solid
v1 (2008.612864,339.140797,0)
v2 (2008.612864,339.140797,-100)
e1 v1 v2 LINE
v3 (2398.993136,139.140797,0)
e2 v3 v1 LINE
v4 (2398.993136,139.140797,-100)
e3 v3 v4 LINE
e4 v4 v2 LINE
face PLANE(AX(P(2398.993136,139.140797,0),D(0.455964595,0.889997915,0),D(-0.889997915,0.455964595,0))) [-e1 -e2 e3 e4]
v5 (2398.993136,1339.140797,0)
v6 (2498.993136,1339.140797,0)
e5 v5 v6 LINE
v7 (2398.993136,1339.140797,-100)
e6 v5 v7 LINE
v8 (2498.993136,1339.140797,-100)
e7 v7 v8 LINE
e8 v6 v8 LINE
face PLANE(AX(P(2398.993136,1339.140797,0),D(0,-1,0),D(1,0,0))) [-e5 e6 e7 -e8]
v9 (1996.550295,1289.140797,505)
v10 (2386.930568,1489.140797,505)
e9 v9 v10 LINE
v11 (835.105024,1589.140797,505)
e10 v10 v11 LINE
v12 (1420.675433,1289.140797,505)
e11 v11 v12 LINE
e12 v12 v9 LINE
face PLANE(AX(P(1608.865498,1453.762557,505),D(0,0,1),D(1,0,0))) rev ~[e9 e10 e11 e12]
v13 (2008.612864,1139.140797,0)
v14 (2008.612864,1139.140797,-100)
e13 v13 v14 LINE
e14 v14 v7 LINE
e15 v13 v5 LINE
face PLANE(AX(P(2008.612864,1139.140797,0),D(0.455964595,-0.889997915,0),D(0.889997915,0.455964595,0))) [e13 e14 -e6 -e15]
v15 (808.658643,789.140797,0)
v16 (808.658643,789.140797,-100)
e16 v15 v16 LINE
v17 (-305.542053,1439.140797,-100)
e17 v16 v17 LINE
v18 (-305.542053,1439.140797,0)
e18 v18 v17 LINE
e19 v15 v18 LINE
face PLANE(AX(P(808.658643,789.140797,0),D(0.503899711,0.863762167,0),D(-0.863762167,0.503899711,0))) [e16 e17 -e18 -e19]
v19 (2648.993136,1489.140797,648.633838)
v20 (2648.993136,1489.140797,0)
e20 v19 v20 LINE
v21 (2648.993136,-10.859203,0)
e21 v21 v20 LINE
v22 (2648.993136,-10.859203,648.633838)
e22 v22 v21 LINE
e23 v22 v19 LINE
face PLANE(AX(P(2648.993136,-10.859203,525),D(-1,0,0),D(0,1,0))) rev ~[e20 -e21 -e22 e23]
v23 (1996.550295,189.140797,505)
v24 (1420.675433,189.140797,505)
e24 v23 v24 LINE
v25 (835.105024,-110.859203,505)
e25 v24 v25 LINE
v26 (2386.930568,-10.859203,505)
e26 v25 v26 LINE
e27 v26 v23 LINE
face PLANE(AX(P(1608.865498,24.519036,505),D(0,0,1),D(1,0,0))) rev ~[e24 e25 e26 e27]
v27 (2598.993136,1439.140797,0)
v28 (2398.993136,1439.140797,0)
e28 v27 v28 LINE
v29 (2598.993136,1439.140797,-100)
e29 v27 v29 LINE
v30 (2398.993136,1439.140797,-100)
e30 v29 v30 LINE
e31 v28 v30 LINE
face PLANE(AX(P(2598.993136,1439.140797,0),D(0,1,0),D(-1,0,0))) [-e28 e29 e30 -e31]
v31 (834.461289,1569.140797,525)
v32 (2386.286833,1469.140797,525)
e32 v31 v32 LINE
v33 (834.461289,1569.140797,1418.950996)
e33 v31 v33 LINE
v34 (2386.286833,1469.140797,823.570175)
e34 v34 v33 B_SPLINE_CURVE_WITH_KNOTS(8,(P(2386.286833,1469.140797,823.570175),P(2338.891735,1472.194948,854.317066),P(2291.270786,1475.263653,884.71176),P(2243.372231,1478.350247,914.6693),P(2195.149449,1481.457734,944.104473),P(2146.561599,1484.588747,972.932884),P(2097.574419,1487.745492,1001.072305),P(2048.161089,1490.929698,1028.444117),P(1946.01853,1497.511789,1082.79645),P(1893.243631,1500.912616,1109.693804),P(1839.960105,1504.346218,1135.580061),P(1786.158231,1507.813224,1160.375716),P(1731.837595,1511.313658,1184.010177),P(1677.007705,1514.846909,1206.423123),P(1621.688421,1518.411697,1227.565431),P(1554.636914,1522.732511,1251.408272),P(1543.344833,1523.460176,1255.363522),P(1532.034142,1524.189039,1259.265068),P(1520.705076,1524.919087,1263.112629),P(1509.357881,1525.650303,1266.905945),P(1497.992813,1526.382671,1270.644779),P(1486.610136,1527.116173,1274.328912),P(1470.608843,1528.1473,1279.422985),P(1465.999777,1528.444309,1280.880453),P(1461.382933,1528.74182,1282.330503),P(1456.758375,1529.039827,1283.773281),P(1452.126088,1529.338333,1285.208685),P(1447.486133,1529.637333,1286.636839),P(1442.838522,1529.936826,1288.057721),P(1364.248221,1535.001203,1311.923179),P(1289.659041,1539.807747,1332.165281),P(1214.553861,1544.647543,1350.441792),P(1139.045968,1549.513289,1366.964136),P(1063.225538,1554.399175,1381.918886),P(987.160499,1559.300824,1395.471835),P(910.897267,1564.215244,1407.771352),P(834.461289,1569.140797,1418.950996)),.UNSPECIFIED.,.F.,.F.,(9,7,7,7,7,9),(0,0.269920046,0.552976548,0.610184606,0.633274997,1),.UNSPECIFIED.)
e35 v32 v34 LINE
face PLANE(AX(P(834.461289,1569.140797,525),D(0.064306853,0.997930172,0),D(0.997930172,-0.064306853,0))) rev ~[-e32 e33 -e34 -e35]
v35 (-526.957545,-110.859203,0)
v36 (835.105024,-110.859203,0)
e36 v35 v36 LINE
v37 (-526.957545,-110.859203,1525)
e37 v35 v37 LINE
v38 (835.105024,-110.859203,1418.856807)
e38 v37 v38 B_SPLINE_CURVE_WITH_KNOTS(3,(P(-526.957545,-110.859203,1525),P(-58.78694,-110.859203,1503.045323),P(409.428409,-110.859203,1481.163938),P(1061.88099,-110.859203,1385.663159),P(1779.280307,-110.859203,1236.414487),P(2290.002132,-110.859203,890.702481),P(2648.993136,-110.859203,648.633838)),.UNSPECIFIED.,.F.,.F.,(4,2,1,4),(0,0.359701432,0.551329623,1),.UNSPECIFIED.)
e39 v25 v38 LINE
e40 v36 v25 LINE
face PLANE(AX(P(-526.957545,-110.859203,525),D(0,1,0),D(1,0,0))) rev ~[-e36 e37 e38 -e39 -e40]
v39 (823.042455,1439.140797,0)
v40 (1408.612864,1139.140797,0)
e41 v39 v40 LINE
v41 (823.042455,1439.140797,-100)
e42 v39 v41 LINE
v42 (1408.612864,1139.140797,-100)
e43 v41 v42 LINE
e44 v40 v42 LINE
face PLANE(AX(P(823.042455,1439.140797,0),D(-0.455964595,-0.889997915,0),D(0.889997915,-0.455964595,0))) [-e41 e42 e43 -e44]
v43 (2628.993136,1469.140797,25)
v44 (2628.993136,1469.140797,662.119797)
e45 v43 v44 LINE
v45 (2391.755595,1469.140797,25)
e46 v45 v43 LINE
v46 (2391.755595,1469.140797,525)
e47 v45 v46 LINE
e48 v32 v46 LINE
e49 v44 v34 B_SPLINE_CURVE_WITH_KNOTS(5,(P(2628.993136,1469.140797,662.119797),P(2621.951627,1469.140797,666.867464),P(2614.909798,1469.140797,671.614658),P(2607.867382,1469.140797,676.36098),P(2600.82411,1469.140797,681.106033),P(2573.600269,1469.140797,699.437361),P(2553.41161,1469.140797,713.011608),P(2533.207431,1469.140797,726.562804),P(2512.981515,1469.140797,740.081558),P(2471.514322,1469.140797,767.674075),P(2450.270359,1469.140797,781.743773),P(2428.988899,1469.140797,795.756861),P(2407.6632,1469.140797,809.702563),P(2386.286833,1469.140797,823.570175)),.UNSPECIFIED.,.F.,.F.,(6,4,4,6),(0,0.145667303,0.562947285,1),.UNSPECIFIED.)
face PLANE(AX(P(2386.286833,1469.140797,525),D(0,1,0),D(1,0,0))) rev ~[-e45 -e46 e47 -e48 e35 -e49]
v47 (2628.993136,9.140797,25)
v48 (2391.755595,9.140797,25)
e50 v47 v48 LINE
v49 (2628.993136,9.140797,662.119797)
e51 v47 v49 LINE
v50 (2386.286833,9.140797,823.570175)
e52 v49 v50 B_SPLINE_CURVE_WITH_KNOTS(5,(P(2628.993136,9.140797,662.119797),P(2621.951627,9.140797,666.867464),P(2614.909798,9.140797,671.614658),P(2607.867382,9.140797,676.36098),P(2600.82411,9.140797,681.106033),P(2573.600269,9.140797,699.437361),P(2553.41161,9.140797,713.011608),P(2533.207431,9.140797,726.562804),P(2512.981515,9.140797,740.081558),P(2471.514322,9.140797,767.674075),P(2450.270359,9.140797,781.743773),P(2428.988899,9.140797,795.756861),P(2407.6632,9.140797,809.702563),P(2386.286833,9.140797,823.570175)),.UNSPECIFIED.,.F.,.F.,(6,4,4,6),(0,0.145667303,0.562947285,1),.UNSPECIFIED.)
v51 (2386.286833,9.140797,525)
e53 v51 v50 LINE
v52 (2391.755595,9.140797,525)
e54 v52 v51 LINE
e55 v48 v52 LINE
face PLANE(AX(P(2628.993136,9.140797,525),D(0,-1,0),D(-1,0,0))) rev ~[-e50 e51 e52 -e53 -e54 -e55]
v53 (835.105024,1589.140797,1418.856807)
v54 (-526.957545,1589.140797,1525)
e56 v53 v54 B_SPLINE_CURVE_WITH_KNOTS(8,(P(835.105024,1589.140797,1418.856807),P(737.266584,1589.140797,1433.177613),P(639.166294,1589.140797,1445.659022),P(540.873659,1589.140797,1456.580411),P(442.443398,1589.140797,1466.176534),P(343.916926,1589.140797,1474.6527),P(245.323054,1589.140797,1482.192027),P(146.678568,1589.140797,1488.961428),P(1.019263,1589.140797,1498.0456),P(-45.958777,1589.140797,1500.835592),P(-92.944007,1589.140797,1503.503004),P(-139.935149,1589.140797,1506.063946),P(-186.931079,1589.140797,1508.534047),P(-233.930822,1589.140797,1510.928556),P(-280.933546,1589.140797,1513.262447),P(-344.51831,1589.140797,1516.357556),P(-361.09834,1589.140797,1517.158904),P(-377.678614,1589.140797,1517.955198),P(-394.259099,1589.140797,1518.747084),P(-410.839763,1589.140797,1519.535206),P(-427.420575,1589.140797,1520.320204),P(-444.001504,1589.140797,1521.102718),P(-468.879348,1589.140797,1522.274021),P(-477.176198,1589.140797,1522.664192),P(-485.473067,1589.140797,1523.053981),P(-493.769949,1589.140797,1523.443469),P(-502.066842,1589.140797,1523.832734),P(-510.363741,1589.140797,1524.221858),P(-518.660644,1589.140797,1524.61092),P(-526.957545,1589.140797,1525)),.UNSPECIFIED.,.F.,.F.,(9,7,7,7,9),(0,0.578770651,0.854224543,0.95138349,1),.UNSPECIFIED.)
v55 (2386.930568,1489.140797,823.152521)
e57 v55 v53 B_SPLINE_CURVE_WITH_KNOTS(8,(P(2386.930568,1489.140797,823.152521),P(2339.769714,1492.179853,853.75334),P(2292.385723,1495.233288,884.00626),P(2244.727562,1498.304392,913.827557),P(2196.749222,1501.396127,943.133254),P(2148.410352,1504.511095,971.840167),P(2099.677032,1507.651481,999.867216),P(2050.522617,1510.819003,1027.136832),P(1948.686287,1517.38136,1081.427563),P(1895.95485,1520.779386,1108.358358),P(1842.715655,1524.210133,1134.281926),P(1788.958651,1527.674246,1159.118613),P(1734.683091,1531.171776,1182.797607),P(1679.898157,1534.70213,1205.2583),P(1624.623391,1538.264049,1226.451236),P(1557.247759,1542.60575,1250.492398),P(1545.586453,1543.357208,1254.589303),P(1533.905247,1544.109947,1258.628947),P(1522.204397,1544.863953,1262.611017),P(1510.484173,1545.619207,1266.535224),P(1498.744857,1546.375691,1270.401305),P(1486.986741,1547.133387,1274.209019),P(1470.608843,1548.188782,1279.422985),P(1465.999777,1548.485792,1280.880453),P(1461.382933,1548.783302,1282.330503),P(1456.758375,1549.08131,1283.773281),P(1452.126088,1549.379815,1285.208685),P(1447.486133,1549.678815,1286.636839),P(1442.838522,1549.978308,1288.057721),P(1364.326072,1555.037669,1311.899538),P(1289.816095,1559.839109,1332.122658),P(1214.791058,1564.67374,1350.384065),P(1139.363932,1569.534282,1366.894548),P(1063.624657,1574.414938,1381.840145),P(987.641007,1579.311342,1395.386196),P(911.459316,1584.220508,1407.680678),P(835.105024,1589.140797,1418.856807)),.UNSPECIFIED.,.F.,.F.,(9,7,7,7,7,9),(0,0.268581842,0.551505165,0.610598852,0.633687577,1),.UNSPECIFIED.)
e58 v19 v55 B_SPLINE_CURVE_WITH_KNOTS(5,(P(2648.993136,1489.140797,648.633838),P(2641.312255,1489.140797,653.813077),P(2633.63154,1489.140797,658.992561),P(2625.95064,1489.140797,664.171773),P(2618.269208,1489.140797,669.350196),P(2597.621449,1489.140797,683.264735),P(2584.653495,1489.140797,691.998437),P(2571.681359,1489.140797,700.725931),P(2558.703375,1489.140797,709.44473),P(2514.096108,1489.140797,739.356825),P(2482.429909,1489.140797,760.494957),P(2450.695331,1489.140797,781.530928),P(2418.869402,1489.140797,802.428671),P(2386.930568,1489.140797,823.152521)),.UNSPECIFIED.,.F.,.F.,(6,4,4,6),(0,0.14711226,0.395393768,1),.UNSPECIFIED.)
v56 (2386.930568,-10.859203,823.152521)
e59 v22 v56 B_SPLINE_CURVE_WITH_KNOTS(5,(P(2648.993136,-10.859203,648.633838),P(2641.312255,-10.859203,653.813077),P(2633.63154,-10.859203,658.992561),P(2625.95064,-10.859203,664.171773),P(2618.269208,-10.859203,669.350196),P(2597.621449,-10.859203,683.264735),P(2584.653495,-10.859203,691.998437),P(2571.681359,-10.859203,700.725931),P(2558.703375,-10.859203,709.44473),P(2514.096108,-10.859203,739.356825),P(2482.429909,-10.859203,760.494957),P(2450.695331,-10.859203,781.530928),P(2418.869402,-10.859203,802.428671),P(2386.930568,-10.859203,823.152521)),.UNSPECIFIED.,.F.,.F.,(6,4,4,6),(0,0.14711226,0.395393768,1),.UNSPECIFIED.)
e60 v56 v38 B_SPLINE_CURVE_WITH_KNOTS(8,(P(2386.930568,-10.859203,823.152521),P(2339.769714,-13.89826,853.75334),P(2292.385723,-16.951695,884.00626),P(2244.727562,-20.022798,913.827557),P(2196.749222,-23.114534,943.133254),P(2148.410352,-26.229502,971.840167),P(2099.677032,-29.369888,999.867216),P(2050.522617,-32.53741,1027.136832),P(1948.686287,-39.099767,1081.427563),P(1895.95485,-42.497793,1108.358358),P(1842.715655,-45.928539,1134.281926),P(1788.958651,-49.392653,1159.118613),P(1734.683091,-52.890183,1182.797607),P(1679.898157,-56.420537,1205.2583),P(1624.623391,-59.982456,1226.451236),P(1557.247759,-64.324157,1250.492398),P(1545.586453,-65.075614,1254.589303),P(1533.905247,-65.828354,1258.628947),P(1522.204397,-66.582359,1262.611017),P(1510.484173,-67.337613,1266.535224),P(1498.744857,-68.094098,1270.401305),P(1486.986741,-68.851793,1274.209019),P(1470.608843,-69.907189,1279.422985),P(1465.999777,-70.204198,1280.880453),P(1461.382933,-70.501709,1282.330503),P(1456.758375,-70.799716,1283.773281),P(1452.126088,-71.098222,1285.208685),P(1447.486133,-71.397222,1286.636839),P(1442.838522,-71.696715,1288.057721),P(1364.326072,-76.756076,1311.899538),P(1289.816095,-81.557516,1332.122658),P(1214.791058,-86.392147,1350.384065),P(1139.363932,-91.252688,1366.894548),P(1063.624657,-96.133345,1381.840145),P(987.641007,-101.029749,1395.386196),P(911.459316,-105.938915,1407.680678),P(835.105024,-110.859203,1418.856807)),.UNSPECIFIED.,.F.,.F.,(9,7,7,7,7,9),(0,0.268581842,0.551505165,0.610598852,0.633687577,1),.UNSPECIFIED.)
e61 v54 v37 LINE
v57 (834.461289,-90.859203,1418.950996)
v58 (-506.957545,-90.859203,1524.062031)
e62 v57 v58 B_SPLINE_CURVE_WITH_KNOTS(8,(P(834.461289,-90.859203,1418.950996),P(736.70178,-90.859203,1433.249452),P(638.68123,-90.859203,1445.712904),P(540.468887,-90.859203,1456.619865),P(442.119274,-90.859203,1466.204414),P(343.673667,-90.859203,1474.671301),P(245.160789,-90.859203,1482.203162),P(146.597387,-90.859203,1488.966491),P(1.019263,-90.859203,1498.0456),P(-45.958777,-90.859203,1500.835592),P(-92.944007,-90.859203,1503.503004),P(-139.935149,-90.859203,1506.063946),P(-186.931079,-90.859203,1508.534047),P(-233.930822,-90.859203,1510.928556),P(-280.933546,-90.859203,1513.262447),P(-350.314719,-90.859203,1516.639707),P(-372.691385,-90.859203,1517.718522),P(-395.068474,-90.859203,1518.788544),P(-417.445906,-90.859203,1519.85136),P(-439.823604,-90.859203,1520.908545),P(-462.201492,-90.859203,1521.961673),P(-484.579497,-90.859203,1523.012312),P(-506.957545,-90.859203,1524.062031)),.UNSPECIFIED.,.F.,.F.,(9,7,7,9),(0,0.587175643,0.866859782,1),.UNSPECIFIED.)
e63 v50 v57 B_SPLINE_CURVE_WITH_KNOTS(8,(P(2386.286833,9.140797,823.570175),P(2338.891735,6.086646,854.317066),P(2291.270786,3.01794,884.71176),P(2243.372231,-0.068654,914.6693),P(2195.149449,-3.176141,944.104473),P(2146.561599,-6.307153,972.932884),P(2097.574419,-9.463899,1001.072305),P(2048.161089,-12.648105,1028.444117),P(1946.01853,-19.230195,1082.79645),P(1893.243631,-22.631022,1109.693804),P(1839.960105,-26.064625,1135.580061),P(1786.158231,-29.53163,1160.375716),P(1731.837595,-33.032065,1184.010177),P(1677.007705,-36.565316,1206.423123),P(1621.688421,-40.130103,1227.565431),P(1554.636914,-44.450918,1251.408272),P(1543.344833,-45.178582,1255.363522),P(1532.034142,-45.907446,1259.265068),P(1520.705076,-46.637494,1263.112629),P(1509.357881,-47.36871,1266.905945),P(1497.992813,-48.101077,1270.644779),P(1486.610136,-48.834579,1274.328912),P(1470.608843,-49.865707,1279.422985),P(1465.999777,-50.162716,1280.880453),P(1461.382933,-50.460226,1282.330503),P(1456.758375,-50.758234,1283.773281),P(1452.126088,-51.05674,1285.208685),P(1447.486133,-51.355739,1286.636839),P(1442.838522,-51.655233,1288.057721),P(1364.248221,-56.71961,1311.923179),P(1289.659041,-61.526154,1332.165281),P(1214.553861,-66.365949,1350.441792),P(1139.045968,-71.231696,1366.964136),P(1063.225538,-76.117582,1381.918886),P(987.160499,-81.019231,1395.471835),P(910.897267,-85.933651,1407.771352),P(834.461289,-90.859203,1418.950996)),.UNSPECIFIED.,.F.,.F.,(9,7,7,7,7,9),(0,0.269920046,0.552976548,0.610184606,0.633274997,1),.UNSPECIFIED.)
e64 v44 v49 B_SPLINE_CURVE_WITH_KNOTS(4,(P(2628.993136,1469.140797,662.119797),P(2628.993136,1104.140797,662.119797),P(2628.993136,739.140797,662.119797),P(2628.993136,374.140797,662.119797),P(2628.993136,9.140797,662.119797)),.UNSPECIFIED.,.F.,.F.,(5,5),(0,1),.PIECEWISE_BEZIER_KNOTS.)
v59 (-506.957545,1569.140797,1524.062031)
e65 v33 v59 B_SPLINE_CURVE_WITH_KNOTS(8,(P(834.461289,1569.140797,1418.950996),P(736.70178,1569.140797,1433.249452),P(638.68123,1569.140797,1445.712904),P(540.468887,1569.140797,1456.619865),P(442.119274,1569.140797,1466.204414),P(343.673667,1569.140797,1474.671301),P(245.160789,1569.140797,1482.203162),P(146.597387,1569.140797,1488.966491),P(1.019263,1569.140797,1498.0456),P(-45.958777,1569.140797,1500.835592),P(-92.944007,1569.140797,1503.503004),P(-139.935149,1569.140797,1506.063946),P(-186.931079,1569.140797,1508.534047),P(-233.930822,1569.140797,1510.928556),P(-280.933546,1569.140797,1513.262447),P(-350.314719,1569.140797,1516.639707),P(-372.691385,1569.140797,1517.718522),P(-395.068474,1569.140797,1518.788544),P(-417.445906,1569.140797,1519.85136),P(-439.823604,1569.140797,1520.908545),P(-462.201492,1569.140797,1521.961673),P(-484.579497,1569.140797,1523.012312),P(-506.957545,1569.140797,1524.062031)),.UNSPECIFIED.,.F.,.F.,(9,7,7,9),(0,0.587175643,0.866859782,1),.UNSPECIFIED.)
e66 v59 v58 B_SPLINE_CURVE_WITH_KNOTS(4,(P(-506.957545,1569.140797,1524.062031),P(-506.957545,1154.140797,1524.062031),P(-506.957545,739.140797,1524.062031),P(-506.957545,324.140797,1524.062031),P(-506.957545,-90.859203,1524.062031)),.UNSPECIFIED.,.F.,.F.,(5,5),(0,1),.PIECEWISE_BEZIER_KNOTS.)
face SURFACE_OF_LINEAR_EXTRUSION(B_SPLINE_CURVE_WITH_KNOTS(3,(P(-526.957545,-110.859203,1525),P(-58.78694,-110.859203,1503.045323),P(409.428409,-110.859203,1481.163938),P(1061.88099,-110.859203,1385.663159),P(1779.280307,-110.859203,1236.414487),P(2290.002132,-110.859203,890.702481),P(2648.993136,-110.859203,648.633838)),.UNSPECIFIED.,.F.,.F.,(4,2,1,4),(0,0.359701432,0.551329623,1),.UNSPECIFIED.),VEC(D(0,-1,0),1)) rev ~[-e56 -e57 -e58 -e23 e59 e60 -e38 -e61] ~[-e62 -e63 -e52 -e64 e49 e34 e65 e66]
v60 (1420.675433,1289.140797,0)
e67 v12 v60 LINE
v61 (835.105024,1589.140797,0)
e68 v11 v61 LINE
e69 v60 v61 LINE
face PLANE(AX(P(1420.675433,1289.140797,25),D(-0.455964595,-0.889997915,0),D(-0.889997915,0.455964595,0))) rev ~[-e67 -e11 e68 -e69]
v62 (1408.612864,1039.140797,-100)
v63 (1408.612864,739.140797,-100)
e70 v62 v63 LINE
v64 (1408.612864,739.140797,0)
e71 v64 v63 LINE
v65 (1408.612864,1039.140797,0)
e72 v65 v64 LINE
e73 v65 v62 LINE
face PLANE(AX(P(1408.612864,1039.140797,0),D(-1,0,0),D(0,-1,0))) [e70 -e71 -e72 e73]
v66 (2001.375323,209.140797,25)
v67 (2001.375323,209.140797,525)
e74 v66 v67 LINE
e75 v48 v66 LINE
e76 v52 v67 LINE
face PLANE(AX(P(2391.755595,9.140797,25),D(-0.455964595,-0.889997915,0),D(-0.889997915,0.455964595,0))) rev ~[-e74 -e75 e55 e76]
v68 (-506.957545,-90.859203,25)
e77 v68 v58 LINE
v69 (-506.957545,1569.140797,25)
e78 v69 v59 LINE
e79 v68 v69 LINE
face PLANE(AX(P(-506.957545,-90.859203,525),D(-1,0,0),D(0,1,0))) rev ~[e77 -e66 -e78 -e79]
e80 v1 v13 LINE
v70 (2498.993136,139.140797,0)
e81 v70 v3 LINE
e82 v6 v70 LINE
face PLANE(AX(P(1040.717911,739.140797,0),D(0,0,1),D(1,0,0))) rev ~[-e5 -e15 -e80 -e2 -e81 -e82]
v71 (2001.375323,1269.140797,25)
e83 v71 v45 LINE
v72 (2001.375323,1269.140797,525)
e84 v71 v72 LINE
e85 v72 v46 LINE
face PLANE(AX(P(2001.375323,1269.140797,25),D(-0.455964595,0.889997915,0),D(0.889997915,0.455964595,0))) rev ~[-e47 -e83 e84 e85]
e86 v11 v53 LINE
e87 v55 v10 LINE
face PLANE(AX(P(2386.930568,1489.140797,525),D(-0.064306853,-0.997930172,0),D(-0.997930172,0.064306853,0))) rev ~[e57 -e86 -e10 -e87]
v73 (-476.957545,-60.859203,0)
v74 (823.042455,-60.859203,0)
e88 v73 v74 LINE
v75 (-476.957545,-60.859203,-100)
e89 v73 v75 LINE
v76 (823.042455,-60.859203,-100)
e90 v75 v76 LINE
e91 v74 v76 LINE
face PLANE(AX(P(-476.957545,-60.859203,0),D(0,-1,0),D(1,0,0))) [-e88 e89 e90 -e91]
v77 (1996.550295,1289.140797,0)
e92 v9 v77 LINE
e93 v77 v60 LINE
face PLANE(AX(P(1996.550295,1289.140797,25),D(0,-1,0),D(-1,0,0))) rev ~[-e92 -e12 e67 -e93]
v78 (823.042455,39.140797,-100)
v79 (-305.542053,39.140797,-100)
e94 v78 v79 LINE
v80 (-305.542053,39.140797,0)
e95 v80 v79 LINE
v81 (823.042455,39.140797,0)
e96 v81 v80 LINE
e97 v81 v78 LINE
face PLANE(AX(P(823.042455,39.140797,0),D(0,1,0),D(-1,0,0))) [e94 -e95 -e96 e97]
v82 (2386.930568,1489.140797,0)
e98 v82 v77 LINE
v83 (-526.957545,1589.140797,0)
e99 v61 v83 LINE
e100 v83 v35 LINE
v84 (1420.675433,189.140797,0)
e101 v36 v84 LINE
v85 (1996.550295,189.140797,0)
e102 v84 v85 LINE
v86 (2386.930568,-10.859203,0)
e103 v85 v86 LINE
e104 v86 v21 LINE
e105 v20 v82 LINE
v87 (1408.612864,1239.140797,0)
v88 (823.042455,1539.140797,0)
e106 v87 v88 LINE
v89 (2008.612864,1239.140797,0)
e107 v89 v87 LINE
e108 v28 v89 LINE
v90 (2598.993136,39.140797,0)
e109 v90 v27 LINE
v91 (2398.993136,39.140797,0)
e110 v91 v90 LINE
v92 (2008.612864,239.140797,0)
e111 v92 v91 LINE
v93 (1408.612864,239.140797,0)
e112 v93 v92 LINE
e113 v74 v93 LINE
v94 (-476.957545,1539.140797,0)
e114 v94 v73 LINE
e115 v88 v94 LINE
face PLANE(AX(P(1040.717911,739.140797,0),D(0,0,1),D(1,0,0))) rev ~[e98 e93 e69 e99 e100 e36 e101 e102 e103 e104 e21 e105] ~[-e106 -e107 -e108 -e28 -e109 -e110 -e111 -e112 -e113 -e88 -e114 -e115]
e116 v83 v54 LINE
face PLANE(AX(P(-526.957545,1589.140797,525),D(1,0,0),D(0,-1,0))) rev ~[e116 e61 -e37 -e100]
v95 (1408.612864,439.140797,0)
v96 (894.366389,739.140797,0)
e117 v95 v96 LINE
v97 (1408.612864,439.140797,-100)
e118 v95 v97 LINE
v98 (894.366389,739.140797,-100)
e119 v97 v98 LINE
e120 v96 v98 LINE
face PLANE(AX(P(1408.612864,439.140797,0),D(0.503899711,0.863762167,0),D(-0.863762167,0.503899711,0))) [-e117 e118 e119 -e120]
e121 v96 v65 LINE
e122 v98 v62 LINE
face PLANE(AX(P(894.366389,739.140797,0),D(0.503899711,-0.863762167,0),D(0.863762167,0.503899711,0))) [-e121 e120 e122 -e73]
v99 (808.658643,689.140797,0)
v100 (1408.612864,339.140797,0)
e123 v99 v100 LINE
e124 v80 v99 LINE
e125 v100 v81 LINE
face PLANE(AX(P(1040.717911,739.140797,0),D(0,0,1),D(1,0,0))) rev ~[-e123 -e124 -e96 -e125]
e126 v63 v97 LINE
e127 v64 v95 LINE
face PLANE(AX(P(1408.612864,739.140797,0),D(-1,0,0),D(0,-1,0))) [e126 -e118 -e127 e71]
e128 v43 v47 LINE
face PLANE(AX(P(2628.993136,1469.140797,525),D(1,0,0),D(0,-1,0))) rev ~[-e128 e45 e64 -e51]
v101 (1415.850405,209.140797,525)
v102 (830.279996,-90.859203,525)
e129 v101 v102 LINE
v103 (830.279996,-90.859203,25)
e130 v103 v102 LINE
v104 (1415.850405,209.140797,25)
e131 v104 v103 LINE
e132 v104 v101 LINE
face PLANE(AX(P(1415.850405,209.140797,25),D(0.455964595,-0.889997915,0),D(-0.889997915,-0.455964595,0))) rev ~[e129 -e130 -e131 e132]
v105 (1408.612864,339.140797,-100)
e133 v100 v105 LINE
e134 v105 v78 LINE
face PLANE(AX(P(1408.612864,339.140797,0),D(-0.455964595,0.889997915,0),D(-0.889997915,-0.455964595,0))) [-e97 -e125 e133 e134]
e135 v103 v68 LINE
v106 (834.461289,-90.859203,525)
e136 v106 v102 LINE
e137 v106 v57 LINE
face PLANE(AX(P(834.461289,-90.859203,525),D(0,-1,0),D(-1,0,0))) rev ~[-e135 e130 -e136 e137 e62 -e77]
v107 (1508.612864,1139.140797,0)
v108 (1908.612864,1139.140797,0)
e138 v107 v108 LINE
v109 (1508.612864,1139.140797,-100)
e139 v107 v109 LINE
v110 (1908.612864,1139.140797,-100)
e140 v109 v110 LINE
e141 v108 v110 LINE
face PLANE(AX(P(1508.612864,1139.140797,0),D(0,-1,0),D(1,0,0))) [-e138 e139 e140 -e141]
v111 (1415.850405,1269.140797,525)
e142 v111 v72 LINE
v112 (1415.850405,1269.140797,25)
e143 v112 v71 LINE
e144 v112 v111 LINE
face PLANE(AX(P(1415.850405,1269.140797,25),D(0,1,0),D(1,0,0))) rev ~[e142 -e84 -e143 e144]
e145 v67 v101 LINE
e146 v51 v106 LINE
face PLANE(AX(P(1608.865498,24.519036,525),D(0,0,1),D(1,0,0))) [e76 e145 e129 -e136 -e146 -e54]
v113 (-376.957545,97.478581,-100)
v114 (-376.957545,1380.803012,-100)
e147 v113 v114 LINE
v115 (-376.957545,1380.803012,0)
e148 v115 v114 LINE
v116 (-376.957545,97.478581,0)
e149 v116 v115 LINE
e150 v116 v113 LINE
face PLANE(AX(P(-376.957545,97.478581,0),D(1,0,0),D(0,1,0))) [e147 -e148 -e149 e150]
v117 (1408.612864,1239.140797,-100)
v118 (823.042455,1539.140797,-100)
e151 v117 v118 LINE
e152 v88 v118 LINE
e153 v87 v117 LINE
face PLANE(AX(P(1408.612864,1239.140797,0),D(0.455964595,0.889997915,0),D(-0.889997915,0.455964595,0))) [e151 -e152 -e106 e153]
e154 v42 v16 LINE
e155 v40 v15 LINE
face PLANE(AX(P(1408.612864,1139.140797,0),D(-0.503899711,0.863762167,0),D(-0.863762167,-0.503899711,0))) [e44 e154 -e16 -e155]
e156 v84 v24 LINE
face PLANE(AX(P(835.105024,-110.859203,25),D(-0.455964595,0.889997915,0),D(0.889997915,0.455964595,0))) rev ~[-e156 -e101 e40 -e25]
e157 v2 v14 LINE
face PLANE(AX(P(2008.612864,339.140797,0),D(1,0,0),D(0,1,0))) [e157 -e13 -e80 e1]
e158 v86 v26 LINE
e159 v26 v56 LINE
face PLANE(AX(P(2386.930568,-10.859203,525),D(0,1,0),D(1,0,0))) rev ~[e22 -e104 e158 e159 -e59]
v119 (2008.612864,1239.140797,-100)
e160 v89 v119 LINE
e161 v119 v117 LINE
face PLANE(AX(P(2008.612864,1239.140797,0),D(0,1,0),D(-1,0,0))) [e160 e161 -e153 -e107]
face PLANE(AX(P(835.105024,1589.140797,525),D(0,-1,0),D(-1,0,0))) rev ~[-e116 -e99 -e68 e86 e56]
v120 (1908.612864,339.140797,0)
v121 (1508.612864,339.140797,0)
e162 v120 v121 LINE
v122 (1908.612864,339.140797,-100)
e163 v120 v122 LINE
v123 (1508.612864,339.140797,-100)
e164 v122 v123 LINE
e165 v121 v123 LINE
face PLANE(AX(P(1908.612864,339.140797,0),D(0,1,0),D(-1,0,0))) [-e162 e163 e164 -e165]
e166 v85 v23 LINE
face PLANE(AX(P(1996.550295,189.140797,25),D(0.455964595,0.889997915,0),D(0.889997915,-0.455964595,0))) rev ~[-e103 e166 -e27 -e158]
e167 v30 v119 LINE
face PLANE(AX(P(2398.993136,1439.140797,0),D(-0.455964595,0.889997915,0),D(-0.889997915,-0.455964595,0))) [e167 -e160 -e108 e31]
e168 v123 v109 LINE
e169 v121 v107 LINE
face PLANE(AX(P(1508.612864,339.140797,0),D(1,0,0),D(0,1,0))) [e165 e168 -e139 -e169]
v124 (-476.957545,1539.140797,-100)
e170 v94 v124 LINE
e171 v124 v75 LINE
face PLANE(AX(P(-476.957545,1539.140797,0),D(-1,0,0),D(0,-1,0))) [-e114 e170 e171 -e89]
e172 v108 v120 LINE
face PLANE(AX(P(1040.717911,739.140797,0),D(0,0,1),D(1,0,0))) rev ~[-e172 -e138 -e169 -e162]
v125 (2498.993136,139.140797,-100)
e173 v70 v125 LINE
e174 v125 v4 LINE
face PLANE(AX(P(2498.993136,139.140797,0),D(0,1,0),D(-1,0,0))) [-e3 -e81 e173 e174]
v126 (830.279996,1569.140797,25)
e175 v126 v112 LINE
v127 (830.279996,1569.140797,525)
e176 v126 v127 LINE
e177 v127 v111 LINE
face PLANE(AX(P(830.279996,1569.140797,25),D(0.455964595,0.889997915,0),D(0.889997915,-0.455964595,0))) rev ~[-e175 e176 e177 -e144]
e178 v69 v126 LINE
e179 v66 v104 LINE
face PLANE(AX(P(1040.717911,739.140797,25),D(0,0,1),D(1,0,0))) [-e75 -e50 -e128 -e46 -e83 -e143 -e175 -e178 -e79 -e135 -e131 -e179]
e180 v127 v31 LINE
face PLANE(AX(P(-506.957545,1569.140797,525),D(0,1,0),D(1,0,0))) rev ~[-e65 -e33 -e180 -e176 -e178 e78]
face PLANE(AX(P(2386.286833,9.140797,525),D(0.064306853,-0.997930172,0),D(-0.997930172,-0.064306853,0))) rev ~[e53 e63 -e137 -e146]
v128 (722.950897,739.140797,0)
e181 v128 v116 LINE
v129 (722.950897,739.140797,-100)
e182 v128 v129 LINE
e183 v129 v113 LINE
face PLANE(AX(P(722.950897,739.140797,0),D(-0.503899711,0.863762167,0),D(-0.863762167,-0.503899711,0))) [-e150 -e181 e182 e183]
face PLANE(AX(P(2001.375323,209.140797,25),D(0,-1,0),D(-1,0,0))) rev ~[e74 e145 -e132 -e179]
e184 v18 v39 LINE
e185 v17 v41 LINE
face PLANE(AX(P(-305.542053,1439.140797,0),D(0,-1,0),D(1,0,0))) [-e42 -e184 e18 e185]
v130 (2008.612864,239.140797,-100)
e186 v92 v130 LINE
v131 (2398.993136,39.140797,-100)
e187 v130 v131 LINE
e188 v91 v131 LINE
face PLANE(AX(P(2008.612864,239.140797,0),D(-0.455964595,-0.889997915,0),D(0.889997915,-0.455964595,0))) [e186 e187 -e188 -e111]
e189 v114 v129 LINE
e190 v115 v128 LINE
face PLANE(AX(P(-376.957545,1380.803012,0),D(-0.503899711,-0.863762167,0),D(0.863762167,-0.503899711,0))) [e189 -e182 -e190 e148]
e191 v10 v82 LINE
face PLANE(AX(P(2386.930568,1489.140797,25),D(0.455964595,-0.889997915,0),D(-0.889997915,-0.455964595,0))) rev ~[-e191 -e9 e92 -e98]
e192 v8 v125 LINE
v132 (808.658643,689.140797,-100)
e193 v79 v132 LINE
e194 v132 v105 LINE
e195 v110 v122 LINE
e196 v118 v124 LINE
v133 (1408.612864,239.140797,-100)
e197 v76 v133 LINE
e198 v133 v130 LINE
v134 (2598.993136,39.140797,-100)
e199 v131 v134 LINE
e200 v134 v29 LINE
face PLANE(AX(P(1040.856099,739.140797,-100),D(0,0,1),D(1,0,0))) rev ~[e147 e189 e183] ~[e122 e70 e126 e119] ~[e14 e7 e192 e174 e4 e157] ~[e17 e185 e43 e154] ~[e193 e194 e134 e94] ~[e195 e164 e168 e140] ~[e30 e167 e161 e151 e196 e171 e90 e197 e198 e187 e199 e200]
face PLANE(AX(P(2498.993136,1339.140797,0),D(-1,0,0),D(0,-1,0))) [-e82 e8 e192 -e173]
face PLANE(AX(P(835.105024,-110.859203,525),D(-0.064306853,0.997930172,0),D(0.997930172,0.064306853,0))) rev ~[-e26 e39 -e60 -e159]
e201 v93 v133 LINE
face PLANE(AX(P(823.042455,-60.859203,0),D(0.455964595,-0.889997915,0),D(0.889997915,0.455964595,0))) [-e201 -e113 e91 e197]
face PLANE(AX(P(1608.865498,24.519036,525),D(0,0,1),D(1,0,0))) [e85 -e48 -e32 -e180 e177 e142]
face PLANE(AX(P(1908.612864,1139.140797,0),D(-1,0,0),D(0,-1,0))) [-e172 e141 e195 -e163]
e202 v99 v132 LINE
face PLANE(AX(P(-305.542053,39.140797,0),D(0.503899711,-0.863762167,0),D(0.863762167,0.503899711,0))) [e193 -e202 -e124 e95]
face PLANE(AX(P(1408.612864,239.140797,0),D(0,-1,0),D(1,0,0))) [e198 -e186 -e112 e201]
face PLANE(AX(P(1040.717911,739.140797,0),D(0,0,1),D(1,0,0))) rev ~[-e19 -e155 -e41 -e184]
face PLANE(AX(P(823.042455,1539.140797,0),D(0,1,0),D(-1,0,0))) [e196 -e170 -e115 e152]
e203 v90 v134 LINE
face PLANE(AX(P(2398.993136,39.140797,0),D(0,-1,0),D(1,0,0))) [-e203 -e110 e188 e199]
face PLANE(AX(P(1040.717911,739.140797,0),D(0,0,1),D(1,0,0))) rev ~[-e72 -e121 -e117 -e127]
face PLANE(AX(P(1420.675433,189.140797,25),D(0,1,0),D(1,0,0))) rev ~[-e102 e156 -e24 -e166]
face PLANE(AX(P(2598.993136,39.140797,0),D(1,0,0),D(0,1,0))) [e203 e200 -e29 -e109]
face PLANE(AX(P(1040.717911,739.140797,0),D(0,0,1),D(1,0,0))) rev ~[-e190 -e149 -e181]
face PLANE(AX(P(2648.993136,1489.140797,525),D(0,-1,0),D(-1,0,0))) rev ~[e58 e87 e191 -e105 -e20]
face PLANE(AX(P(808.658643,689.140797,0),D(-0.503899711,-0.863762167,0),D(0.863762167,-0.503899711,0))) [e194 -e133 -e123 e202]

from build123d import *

# Parameters (mm, degrees)
F1_DEPTH  = 100
F3_DEPTH  = 25
F5_DEPTH  = 500
F7_DEPTH  = 20
F9_DEPTH  = 1000
F11_DEPTH = 2000


with BuildPart() as f1:
    # F0 (on Top) → F1 (new body)
    with BuildSketch(Plane.XY):
        Polygon((-476.9575450942, 1539.1407966614), (-476.9575450942, 1439.1407966614), (-476.9575450942, 39.1407966614), (-476.9575450942, -60.8592033386), (823.0424549058, -60.8592033386), (1408.6128637736, 239.1407966614), (1708.6128637736, 239.1407966614), (2008.6128637736, 239.1407966614), (2398.9931363521, 39.1407966614), (2598.9931363521, 39.1407966614), (2598.9931363521, 139.1407966614), (2598.9931363521, 739.1407966614), (2598.9931363521, 1339.1407966614), (2598.9931363521, 1439.1407966614), (2398.9931363521, 1439.1407966614), (2008.6128637736, 1239.1407966614), (1708.6128637736, 1239.1407966614), (1408.6128637736, 1239.1407966614), (823.0424549058, 1539.1407966614), align=None)
        Polygon((-376.9575450942, 97.4785810701), (-376.9575450942, 1380.8030122527), (722.9508969124, 739.1407966614), align=None, mode=Mode.SUBTRACT)
        Polygon((823.0424549058, 39.1407966601), (-305.5420533788, 39.1407966612), (808.6586427702, 689.1407966614), (1408.6128637735, 339.1407966614), align=None, mode=Mode.SUBTRACT)
        Polygon((823.0424549058, 1439.1407966614), (1408.6128637735, 1139.1407966615), (808.6586427701, 789.1407966614), (-305.542053379, 1439.1407966614), align=None, mode=Mode.SUBTRACT)
        Polygon((894.3663886278, 739.1407966614), (1408.6128637736, 1039.1407966615), (1408.6128637738, 739.1407966615), (1408.6128637736, 439.1407966614), align=None, mode=Mode.SUBTRACT)
        Polygon((1908.6128637736, 1139.1407966614), (1908.6128637736, 739.1407966614), (1908.6128637736, 339.1407966614), (1708.6128637736, 339.1407966614), (1508.6128637736, 339.1407966614), (1508.6128637736, 739.1407966614), (1508.6128637735, 1139.1407966615), (1708.6128637735, 1139.1407966615), align=None, mode=Mode.SUBTRACT)
        Polygon((2008.6128637736, 339.1407966614), (2008.6128637736, 739.1407966614), (2008.6128637736, 1139.1407966614), (2398.9931363521, 1339.1407966614), (2498.9931363521, 1339.1407966614), (2498.9931363521, 739.1407966614), (2498.9931363521, 139.1407966614), (2398.9931363521, 139.1407966614), align=None, mode=Mode.SUBTRACT)
    extrude(amount=-F1_DEPTH)

    # F2 (on face) → F3 (join)
    with BuildSketch(Plane.XY):
        Polygon((835.1050236414, -110.8592033386), (1420.6754325092, 189.1407966614), (1708.6128637736, 189.1407966614), (1996.550295038, 189.1407966614), (2386.9305676165, -10.8592033386), (2648.9931363521, -10.8592033386), (2648.9931363521, 139.1407966614), (2648.9931363521, 739.1407966614), (2648.9931363521, 1339.1407966614), (2648.9931363521, 1489.1407966614), (2386.9305676165, 1489.1407966614), (1996.550295038, 1289.1407966614), (1708.6128637736, 1289.1407966614), (1420.6754325092, 1289.1407966614), (835.1050236414, 1589.1407966614), (-526.9575450942, 1589.1407966614), (-526.9575450942, 1439.1407966614), (-526.9575450942, 39.1407966614), (-526.9575450942, -110.8592033386), align=None)
        Polygon((-476.9575450942, 1439.1407966614), (-476.9575450942, 1539.1407966614), (823.0424549058, 1539.1407966614), (1408.6128637736, 1239.1407966614), (1708.6128637736, 1239.1407966614), (2008.6128637736, 1239.1407966614), (2398.9931363521, 1439.1407966614), (2598.9931363521, 1439.1407966614), (2598.9931363521, 1339.1407966614), (2598.9931363521, 739.1407966614), (2598.9931363521, 139.1407966614), (2598.9931363521, 39.1407966614), (2398.9931363521, 39.1407966614), (2008.6128637736, 239.1407966614), (1708.6128637736, 239.1407966614), (1408.6128637736, 239.1407966614), (823.0424549058, -60.8592033386), (-476.9575450942, -60.8592033386), (-476.9575450942, 39.1407966614), align=None, mode=Mode.SUBTRACT)
        Polygon((823.0424549058, 1539.1407966614), (-476.9575450942, 1539.1407966614), (-476.9575450942, 1439.1407966614), (-476.9575450942, 39.1407966614), (-476.9575450942, -60.8592033386), (823.0424549058, -60.8592033386), (1408.6128637736, 239.1407966614), (1708.6128637736, 239.1407966614), (2008.6128637736, 239.1407966614), (2398.9931363521, 39.1407966614), (2598.9931363521, 39.1407966614), (2598.9931363521, 139.1407966614), (2598.9931363521, 739.1407966614), (2598.9931363521, 1339.1407966614), (2598.9931363521, 1439.1407966614), (2398.9931363521, 1439.1407966614), (2008.6128637736, 1239.1407966614), (1708.6128637736, 1239.1407966614), (1408.6128637736, 1239.1407966614), align=None)
        Polygon((722.9508969124, 739.1407966614), (-376.9575450942, 97.4785810701), (-376.9575450942, 1380.8030122527), align=None, mode=Mode.SUBTRACT)
        Polygon((1408.6128637735, 339.1407966614), (823.0424549058, 39.1407966601), (-305.5420533788, 39.1407966612), (808.6586427702, 689.1407966614), align=None, mode=Mode.SUBTRACT)
        Polygon((-305.542053379, 1439.1407966614), (823.0424549058, 1439.1407966614), (1408.6128637735, 1139.1407966615), (808.6586427701, 789.1407966614), align=None, mode=Mode.SUBTRACT)
        Polygon((1408.6128637736, 439.1407966614), (894.3663886278, 739.1407966614), (1408.6128637736, 1039.1407966615), (1408.6128637738, 739.1407966615), align=None, mode=Mode.SUBTRACT)
        Polygon((1708.6128637736, 1139.1407966614), (1908.6128637736, 1139.1407966614), (1908.6128637736, 739.1407966614), (1908.6128637736, 339.1407966614), (1708.6128637736, 339.1407966614), (1508.6128637736, 339.1407966614), (1508.6128637736, 739.1407966614), (1508.6128637735, 1139.1407966615), align=None, mode=Mode.SUBTRACT)
        Polygon((2008.6128637736, 339.1407966614), (2008.6128637736, 739.1407966614), (2008.6128637736, 1139.1407966614), (2398.9931363521, 1339.1407966614), (2498.9931363521, 1339.1407966614), (2498.9931363521, 739.1407966614), (2498.9931363521, 139.1407966614), (2398.9931363521, 139.1407966614), align=None, mode=Mode.SUBTRACT)
        Polygon((1908.6128637736, 739.1407966614), (1908.6128637736, 1139.1407966614), (1708.6128637736, 1139.1407966614), (1508.6128637735, 1139.1407966615), (1508.6128637735, 739.1407966615), (1508.6128637736, 339.1407966614), (1708.6128637735, 339.1407966614), (1908.6128637736, 339.1407966614), align=None)
        Polygon((1408.6128637736, 1039.1407966615), (894.3663886278, 739.1407966614), (1408.6128637736, 439.1407966614), (1408.6128637736, 739.1407966614), align=None)
        Polygon((-305.5420533788, 39.1407966612), (823.0424549058, 39.1407966601), (1408.6128637735, 339.1407966614), (808.6586427702, 689.1407966614), align=None)
        Polygon((1408.6128637735, 1139.1407966615), (823.0424549058, 1439.1407966614), (-305.542053379, 1439.1407966614), (808.6586427701, 789.1407966614), align=None)
        Polygon((-376.9575450942, 1380.8030122527), (-376.9575450942, 97.4785810701), (722.9508969124, 739.1407966614), align=None)
        Polygon((2008.6128637736, 1139.1407966614), (2008.6128637736, 739.1407966614), (2008.6128637736, 339.1407966614), (2398.9931363521, 139.1407966614), (2498.9931363521, 139.1407966614), (2498.9931363521, 739.1407966614), (2498.9931363521, 1339.1407966614), (2398.9931363521, 1339.1407966614), align=None)
    extrude(amount=F3_DEPTH)

    # F4 (on face) → F5 (join)
    with BuildSketch(Plane.XY.offset(25)):
        Polygon((-526.9575450942, 1589.1407966614), (-526.9575450942, -110.8592033386), (835.1050236414, -110.8592033386), (1420.6754325092, 189.1407966614), (1996.550295038, 189.1407966614), (2386.9305676165, -10.8592033386), (2648.9931363521, -10.8592033386), (2648.9931363521, 1489.1407966614), (2386.9305676165, 1489.1407966614), (1996.550295038, 1289.1407966614), (1420.6754325092, 1289.1407966614), (835.1050236414, 1589.1407966614), align=None)
        Polygon((2628.9931363521, 9.1407966614), (2391.7555951107, 9.1407966614), (2001.3753225322, 209.1407966614), (1415.850405015, 209.1407966614), (830.2799961471, -90.8592033386), (-506.9575450942, -90.8592033386), (-506.9575450942, 1569.1407966614), (830.2799961471, 1569.1407966614), (1415.8504050149, 1269.1407966614), (2001.3753225322, 1269.1407966614), (2391.7555951107, 1469.1407966614), (2628.9931363521, 1469.1407966614), align=None, mode=Mode.SUBTRACT)
    extrude(amount=F5_DEPTH)

    # F6 (on face) → F7 (join)
    with BuildSketch(Plane.XY.offset(525)):
        Polygon((1420.6754325092, 189.1407966614), (835.1050236414, -110.8592033386), (2386.9305676165, -10.8592033386), (1996.550295038, 189.1407966614), align=None)
        Polygon((2386.9305676165, 1489.1407966614), (835.1050236414, 1589.1407966614), (1420.6754325092, 1289.1407966614), (1996.550295038, 1289.1407966614), align=None)
    extrude(amount=-F7_DEPTH)

    # F8 (on face) → F9 (join)
    with BuildSketch(Plane.XY.offset(525)):
        Polygon((2386.9305676165, 1489.1407966614), (835.1050236414, 1589.1407966614), (-526.9575450942, 1589.1407966614), (-526.9575450942, -110.8592033386), (835.1050236414, -110.8592033386), (2386.9305676165, -10.8592033386), (2648.9931363521, -10.8592033386), (2648.9931363521, 1489.1407966614), align=None)
        Polygon((2391.7555951107, 1469.1407966614), (2628.9931363521, 1469.1407966614), (2628.9931363521, 9.1407966614), (2391.7555951107, 9.1407966614), (2386.2868328759, 9.1407966614), (834.4612889008, -90.8592033386), (830.2799961471, -90.8592033386), (-506.9575450942, -90.8592033386), (-506.9575450942, 1569.1407966614), (830.2799961471, 1569.1407966614), (834.4612889008, 1569.1407966614), (2386.2868328759, 1469.1407966614), align=None, mode=Mode.SUBTRACT)
    extrude(amount=F9_DEPTH)

    # F10 (on face) → F11 (cut)
    with BuildSketch(Plane.XZ.offset(110.8592033386)):
        with BuildLine():
            Line((835.1050236414, 1525), (-526.9575450942, 1525))
            add(Edge.make_bspline(
                [(-526.9575450942, 1525), (-58.7869396097, 1503.0453230908), (409.4284087165, 1481.1639376683), (835.1050236415, 1418.8568069486)],
                knots=[0, 0, 0, 0, 0.3597014322, 0.3597014322, 0.3597014322, 0.3597014322], degree=3))
            Line((835.1050236414, 1418.8568069486), (835.1050236414, 1525))
        make_face()
        with BuildLine():
            Line((835.1050236414, 1525), (835.1050236414, 1418.8568069486))
            add(Edge.make_bspline(
                [(835.1050236415, 1418.8568069486), (1061.8809895187, 1385.6631588726), (1779.2803071525, 1236.4144865114), (2290.0021320838, 890.7024812782), (2648.9931363521, 648.6338376999)],
                knots=[0.3597014322, 0.3597014322, 0.3597014322, 0.3597014322, 0.5513296234, 1, 1, 1, 1], degree=3))
            Line((2648.9931363521, 648.6338376999), (2648.9931363521, 1525))
            Line((2648.9931363521, 1525), (835.1050236414, 1525))
        make_face()
    extrude(amount=-F11_DEPTH, mode=Mode.SUBTRACT)


solid = f1.part
